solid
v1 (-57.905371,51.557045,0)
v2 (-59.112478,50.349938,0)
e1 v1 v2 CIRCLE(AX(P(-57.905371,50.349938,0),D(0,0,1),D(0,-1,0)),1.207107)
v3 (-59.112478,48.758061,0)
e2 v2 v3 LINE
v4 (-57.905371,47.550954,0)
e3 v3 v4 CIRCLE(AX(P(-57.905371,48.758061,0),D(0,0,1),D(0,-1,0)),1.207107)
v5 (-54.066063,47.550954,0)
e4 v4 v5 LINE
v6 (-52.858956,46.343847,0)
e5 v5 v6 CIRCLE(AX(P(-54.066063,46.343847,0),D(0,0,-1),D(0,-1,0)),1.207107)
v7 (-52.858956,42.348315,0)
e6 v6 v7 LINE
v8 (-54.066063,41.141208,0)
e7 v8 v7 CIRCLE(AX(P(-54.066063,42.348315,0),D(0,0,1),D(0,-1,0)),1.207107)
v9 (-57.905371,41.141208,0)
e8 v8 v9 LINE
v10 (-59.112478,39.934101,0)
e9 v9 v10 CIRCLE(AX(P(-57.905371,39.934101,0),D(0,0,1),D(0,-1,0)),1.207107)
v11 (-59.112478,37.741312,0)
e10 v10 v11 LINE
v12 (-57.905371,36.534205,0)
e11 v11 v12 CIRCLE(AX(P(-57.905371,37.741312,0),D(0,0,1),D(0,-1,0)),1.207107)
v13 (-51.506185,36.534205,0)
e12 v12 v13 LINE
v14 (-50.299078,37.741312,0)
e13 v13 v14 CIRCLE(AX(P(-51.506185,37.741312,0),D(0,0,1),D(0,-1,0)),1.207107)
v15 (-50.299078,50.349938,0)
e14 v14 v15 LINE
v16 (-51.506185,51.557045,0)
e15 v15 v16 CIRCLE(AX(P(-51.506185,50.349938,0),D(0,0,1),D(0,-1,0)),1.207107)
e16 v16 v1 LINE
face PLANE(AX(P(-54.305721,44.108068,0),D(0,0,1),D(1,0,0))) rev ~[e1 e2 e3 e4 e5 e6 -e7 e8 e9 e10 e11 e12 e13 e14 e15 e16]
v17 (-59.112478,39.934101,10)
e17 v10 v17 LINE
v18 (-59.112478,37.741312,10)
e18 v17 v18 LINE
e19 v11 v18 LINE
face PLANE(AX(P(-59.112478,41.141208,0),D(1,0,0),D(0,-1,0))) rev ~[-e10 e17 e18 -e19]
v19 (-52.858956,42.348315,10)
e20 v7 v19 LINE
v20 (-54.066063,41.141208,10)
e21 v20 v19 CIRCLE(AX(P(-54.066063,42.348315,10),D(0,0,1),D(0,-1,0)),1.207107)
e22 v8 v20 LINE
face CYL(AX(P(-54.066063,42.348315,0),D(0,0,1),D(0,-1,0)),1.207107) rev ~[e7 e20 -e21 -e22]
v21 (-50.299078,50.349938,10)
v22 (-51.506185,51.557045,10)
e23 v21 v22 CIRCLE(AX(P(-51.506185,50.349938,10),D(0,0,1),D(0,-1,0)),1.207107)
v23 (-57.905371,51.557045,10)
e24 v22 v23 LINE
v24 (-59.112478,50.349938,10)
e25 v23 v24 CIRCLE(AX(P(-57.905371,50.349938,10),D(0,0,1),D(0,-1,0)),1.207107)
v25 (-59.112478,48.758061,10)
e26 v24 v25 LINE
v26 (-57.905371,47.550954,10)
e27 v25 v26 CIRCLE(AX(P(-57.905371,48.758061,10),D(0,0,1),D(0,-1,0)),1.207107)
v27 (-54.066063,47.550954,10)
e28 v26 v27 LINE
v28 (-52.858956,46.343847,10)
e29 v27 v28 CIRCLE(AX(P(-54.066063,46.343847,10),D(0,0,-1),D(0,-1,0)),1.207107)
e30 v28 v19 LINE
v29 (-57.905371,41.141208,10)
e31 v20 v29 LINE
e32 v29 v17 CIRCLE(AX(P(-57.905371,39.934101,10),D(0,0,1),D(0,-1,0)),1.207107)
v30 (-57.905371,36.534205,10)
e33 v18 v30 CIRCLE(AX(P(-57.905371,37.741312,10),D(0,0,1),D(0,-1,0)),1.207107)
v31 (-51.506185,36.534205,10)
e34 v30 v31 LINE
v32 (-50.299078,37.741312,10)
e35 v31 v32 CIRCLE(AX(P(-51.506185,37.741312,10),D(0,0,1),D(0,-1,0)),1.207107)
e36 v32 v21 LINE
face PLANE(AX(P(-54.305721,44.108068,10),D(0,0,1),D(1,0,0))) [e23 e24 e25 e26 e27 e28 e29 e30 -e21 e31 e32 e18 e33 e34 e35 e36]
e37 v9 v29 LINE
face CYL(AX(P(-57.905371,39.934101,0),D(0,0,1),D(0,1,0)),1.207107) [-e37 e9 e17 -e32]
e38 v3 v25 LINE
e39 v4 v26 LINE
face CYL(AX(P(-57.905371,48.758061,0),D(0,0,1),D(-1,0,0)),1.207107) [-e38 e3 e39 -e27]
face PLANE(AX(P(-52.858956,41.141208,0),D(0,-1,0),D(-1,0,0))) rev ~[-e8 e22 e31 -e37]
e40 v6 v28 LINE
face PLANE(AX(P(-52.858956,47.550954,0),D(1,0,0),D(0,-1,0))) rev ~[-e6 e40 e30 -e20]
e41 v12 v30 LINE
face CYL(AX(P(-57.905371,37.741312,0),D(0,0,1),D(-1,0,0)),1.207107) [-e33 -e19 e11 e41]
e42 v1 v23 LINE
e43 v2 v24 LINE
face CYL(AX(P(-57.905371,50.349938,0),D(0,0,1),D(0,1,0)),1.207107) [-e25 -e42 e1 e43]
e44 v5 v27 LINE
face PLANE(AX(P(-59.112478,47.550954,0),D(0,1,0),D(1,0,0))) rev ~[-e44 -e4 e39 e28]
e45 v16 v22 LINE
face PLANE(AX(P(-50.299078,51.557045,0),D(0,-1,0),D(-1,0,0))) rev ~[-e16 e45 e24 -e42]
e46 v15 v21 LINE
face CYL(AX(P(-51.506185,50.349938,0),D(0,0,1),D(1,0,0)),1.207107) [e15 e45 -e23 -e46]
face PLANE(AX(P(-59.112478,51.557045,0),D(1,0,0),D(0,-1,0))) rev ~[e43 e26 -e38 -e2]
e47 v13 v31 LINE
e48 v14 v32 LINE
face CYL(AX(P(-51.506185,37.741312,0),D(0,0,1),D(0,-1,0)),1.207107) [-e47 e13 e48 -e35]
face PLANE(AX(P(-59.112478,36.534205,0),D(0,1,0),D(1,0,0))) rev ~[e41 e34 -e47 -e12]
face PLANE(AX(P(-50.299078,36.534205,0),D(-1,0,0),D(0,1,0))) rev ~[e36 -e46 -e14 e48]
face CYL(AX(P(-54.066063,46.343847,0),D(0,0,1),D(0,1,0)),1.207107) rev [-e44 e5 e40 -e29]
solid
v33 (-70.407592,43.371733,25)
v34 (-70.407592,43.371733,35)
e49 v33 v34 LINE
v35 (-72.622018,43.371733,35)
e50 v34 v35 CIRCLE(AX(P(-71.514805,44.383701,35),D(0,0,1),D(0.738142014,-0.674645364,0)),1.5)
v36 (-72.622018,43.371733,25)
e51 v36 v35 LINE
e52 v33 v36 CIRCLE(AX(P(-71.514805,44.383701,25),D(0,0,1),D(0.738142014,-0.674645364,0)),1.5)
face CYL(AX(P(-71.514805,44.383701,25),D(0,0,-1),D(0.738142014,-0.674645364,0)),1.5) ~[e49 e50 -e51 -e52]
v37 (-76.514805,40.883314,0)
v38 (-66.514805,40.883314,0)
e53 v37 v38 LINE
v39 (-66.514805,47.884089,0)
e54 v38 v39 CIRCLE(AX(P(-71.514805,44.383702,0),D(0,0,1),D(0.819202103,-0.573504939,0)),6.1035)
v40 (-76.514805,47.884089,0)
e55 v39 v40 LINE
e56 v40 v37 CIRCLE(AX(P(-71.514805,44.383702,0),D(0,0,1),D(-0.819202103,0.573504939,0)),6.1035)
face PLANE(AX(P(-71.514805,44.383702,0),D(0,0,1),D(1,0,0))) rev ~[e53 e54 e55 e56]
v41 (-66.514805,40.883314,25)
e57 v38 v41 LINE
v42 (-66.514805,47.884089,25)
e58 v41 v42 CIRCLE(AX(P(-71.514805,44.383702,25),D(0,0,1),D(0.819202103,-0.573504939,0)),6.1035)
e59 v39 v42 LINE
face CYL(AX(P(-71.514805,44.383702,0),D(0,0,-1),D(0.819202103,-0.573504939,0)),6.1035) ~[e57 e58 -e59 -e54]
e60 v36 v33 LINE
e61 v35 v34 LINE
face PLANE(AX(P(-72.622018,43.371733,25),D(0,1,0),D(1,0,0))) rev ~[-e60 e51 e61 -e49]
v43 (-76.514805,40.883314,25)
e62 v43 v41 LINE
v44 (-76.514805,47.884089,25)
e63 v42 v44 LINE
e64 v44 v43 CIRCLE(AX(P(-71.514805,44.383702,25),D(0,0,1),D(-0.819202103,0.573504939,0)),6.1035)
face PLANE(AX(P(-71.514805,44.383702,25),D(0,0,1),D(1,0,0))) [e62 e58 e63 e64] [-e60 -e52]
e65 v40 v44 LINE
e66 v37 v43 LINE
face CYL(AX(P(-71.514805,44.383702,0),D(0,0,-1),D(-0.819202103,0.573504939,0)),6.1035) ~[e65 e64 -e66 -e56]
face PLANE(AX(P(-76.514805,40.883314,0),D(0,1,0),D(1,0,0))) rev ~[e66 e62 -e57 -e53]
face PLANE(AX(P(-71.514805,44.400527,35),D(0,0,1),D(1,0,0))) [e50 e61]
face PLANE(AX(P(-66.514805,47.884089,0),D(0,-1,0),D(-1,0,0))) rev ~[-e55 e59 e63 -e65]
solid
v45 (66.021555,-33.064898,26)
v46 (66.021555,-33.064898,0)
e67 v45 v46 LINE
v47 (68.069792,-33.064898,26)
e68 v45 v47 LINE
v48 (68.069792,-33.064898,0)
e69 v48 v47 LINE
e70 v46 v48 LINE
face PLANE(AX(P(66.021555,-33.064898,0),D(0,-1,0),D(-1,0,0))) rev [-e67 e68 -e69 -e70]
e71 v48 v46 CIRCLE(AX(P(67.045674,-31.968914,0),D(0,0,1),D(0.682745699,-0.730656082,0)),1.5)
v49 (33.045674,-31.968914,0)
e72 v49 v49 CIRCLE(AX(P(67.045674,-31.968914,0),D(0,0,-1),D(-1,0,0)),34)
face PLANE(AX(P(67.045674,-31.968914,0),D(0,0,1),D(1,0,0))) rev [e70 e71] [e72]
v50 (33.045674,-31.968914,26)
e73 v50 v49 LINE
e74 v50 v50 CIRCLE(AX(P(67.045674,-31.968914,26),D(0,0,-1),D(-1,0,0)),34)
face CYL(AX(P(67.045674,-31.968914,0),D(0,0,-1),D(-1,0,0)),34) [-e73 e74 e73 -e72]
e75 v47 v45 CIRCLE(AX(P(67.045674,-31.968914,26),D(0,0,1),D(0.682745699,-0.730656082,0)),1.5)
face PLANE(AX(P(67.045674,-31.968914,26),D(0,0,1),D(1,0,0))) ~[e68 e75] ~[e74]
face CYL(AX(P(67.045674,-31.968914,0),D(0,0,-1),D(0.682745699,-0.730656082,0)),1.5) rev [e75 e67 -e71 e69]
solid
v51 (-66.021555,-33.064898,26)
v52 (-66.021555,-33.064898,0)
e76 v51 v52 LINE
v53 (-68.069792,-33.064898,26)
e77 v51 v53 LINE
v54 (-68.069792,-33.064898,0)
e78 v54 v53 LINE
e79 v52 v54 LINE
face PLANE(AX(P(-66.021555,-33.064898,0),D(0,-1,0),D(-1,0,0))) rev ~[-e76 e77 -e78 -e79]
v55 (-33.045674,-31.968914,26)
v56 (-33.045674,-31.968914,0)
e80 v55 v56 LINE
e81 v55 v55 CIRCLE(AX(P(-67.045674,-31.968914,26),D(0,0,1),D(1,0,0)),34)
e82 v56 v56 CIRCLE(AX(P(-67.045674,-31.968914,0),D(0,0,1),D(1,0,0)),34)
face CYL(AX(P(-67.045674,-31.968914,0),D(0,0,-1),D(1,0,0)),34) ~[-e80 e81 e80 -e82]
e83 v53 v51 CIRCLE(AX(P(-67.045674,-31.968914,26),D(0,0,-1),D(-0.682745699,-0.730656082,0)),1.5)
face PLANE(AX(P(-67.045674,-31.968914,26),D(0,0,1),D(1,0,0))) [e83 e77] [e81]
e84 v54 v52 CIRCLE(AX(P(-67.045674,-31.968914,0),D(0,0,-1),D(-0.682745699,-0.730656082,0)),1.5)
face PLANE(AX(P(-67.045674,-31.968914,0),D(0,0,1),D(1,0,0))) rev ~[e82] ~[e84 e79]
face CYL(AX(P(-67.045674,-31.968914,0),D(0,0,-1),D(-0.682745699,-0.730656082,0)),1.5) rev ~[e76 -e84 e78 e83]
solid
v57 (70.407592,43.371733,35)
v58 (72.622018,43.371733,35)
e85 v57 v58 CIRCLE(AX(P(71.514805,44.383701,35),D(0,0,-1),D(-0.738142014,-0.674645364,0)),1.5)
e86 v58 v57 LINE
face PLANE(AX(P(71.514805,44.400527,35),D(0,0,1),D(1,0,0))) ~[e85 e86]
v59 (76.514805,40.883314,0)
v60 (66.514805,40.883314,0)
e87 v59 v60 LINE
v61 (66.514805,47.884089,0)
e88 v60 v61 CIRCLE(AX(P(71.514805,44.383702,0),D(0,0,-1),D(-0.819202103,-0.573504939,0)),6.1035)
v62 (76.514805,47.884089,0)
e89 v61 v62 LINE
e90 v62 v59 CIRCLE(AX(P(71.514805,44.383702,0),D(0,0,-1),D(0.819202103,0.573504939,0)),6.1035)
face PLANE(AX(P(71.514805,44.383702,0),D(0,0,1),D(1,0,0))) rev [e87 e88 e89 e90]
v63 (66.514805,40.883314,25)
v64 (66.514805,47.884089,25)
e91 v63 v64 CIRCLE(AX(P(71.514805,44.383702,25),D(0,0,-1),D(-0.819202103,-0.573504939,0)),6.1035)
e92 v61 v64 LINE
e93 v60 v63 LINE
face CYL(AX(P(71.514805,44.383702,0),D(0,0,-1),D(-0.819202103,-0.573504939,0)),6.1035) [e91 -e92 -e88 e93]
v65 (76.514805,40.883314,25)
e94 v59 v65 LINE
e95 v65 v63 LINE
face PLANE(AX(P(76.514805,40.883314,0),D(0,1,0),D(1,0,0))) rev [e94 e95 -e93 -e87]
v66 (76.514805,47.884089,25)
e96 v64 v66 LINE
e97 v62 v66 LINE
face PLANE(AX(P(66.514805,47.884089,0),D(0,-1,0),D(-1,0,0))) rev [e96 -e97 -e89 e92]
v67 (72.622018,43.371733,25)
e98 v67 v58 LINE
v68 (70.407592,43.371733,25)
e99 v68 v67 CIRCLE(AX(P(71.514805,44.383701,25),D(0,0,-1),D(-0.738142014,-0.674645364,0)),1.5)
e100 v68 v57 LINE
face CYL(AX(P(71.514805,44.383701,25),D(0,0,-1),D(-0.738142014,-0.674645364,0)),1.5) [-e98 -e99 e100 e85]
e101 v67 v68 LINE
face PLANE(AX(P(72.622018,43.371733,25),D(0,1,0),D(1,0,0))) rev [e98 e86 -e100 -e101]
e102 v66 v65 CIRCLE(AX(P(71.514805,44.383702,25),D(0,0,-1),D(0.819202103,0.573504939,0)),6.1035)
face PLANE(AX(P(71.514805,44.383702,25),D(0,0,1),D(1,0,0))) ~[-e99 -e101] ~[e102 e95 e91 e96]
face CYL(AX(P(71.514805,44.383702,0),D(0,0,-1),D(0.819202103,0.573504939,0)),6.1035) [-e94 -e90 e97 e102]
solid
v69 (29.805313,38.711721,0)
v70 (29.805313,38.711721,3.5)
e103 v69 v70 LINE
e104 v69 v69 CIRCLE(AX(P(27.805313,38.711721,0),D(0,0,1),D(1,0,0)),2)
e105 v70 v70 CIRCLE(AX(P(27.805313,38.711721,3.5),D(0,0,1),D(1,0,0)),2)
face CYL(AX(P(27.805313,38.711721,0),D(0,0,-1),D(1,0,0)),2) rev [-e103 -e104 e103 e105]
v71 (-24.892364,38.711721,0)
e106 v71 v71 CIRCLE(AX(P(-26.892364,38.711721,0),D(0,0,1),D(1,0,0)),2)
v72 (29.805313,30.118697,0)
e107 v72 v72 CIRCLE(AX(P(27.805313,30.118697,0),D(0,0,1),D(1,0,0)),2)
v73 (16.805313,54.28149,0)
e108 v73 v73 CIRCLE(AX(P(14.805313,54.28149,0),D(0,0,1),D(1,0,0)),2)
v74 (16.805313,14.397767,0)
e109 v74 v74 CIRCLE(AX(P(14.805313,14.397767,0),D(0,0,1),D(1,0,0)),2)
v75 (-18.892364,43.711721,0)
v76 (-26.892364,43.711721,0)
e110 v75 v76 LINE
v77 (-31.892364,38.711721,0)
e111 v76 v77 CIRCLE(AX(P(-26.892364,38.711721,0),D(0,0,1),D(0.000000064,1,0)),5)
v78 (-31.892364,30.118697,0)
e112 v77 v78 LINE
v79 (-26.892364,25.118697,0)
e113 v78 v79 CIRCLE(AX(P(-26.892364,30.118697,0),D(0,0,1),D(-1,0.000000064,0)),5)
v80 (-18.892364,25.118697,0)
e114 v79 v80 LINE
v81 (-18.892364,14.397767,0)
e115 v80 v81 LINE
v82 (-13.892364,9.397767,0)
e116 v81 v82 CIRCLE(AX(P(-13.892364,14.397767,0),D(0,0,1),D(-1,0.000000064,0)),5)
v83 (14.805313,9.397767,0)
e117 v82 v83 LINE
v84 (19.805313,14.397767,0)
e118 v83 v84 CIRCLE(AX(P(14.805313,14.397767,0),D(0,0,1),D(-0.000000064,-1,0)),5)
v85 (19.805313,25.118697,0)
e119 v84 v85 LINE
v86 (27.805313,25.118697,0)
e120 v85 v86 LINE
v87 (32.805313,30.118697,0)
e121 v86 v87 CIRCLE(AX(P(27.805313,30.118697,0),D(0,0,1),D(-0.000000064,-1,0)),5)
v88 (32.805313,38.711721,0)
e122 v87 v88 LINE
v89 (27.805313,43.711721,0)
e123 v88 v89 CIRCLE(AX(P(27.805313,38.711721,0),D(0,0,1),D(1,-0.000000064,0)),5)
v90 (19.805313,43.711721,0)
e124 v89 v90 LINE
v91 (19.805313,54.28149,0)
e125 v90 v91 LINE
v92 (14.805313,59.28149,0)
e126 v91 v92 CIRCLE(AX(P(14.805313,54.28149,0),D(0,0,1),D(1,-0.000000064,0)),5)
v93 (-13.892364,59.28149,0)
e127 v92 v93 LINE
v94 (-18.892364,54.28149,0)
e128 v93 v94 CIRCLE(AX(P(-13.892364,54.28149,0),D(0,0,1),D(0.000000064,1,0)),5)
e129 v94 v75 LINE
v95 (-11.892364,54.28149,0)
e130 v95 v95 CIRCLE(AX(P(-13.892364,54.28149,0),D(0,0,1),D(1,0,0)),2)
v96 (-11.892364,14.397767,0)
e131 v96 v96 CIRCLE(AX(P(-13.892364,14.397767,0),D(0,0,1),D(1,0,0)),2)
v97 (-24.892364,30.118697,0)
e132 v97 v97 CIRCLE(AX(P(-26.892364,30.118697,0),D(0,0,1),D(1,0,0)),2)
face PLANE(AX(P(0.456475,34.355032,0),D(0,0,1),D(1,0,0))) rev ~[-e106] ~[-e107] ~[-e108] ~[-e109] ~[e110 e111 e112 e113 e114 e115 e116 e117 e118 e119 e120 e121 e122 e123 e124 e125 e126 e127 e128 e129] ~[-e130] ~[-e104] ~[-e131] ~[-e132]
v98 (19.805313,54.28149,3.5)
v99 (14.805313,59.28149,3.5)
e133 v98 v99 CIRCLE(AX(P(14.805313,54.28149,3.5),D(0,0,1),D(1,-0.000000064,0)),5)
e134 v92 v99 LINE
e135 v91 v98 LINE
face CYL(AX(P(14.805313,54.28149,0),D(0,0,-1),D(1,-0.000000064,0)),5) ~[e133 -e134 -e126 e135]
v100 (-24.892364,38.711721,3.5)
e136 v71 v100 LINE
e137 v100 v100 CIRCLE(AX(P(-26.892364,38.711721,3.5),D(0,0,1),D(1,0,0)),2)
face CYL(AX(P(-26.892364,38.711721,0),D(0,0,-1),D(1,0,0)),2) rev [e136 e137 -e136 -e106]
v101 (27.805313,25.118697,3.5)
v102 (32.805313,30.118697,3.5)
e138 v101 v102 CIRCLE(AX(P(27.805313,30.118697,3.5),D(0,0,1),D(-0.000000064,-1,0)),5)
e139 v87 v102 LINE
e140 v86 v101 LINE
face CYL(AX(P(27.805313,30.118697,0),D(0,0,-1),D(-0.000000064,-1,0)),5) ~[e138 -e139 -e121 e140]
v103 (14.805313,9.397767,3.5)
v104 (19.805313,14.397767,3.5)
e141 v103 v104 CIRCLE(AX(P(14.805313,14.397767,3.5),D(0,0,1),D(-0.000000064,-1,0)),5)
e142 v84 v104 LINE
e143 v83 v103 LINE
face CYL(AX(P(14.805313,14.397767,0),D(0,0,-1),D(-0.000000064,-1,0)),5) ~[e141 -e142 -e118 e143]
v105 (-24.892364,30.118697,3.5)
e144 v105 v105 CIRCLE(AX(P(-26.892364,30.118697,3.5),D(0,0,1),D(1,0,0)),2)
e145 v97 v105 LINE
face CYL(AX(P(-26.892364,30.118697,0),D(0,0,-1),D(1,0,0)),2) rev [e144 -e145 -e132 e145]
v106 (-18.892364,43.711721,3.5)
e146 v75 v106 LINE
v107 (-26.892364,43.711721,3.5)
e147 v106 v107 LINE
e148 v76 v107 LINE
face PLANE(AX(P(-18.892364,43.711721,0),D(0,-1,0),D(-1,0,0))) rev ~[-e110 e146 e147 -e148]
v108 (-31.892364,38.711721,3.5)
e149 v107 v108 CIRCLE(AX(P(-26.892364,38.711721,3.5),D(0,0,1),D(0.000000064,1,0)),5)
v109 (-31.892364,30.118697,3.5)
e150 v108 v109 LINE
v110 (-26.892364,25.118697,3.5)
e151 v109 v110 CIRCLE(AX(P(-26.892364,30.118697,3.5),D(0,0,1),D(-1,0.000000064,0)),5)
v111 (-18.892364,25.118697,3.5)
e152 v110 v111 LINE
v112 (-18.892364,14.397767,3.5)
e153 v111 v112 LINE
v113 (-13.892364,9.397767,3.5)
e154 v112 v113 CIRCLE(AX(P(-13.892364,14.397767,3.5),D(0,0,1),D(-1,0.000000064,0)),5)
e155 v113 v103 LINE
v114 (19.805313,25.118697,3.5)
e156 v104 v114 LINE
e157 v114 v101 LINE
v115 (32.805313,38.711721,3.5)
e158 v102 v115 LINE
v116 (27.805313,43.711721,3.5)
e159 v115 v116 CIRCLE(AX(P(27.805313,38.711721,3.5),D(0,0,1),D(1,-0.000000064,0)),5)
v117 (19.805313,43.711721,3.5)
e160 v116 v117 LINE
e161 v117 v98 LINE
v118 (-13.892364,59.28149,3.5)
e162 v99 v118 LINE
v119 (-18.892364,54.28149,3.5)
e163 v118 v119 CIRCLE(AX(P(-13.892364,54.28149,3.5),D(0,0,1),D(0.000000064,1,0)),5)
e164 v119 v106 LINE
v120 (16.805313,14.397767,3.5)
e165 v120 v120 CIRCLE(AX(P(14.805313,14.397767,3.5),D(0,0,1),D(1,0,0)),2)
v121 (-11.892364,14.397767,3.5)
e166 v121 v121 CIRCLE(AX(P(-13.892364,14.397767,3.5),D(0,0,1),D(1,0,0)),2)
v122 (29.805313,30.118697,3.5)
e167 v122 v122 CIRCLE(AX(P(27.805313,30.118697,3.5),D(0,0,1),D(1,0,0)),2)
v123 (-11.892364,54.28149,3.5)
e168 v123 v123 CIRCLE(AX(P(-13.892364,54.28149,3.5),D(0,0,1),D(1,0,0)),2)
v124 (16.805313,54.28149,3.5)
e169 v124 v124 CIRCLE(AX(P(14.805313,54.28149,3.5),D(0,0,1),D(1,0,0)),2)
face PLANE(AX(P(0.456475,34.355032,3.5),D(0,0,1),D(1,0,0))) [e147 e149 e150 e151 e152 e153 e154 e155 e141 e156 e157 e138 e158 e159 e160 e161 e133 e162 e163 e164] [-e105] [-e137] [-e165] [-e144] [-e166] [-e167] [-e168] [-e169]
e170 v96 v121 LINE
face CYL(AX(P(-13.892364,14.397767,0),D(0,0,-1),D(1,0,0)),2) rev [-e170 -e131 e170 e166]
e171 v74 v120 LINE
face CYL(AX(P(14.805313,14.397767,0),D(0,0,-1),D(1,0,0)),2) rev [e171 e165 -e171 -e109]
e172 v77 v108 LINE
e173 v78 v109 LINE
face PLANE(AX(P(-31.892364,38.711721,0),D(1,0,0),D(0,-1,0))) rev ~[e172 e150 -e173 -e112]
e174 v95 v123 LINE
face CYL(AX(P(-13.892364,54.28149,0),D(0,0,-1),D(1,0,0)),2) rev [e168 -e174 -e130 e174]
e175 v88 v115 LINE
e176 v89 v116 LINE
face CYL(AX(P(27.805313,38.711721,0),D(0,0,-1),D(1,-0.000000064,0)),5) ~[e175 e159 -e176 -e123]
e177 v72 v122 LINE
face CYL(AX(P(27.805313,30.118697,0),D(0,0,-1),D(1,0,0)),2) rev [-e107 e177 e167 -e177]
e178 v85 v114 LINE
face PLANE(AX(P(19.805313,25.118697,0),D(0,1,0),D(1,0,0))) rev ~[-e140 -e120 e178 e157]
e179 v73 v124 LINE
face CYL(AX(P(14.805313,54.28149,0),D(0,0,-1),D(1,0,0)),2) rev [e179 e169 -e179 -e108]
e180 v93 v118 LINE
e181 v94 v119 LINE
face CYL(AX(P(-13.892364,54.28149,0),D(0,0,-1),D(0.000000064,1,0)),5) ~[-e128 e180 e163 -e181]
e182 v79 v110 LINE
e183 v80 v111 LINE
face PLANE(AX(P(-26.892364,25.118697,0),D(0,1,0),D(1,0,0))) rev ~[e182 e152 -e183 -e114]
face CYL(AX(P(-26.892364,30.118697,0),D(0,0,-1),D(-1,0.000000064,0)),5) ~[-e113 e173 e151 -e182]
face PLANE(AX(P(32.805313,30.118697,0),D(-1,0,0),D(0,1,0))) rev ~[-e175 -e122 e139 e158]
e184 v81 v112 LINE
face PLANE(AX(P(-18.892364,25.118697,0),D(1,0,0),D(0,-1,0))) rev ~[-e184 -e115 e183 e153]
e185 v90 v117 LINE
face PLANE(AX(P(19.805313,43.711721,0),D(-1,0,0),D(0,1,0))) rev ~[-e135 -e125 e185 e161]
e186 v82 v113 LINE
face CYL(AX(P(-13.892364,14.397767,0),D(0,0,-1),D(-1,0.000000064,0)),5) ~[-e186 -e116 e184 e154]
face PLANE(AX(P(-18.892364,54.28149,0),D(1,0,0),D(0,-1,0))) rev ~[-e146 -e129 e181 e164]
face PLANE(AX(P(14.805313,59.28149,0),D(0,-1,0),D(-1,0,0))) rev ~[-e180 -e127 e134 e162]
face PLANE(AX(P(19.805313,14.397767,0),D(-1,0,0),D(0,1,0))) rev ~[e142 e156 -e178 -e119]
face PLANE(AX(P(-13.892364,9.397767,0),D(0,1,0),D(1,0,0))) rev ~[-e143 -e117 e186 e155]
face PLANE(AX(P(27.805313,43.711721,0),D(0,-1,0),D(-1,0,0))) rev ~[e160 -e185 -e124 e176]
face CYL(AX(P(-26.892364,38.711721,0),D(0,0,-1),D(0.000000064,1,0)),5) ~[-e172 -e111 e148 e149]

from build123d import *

# Parameters (mm, degrees)
F0_R      = 34
F1_DEPTH  = 26
F2_DEPTH  = 25
F4_DEPTH  = 25
F6_DEPTH  = 10
F9_DEPTH  = 10
F10_R     = 1.207107
F11_R     = 2
F12_DEPTH = 3.5


with BuildPart() as f1:
    # F0 (on Top) → F1 (new body)
    with BuildSketch(Plane.XY):
        with Locations((-67.045674, -31.968914)):
            Circle(F0_R)
        with BuildLine():
            ThreePointArc((-68.069792, -33.064898), (-67.045674, -30.468914), (-66.021555, -33.064898))
            Line((-66.021555, -33.064898), (-68.069792, -33.064898))
        make_face(mode=Mode.SUBTRACT)
    extrude(amount=F1_DEPTH)

    # F0 (on Top) → F2 (join)
    with BuildSketch(Plane.XY):
        with Locations((-67.045674, -31.968914)):
            Circle(F0_R)
        with BuildLine():
            ThreePointArc((-68.069792, -33.064898), (-67.045674, -30.468914), (-66.021555, -33.064898))
            Line((-66.021555, -33.064898), (-68.069792, -33.064898))
        make_face(mode=Mode.SUBTRACT)
    extrude(amount=F2_DEPTH)


with BuildPart() as f4:
    # F3 (on Top) → F4 (new body)
    with BuildSketch(Plane.XY):
        with BuildLine():
            Line((-66.514805, 47.884089), (-76.514805, 47.884089))
            ThreePointArc((-76.514805, 47.884089), (-77.618305, 44.383701), (-76.514805, 40.883314))
            Line((-76.514805, 40.883314), (-66.514805, 40.883314))
            ThreePointArc((-66.514805, 40.883314), (-65.411305, 44.383701), (-66.514805, 47.884089))
        make_face()
    extrude(amount=F4_DEPTH)

    # F5 (on face) → F6 (join)
    with BuildSketch(Plane.XY.offset(25)):
        with BuildLine():
            Line((-72.622018, 43.371733), (-70.407592, 43.371733))
            ThreePointArc((-70.407592, 43.371733), (-71.514805, 45.883701), (-72.622018, 43.371733))
        make_face()
    extrude(amount=F6_DEPTH)


with BuildPart() as f7_1:
    # F7: instance of F4
    add(f4.part.mirror(Plane.YZ))


with BuildPart() as f7_2:
    # F7: instance of F1
    add(f1.part.mirror(Plane.YZ))


with BuildPart() as f9:
    # F8 (on Top) → F9 (new body)
    with BuildSketch(Plane.XY):
        Polygon((-52.858956, 41.141208), (-59.112478, 41.141208), (-59.112478, 36.534205), (-50.299078, 36.534205), (-50.299078, 51.557045), (-59.112478, 51.557045), (-59.112478, 47.550954), (-52.858956, 47.550954), align=None)
    extrude(amount=F9_DEPTH)

    # F10
    f10_edges = [f9.edges().sort_by_distance(p)[0] for p in [
        (-59.112478, 47.550954, 5),
        (-59.112478, 41.141208, 5),
        (-52.858956, 47.550954, 5),
        (-52.858956, 41.141208, 5),
        (-50.299078, 51.557045, 5),
        (-59.112478, 51.557045, 5),
        (-50.299078, 36.534205, 5),
        (-59.112478, 36.534205, 5),
    ]]
    fillet(f10_edges, radius=F10_R)


with BuildPart() as f12:
    # F11 (on Top) → F12 (new body)
    with BuildSketch(Plane.XY):
        with BuildLine():
            ThreePointArc((-18.892364, 14.397767), (-17.427898, 10.862233), (-13.892364, 9.397767))
            Line((-13.892364, 9.397767), (14.805313, 9.397767))
            ThreePointArc((14.805313, 9.397767), (18.340847, 10.862233), (19.805313, 14.397767))
            Line((19.805313, 14.397767), (19.805313, 25.118697))
            Line((19.805313, 25.118697), (27.805313, 25.118697))
            ThreePointArc((27.805313, 25.118697), (31.340847, 26.583163), (32.805313, 30.118697))
            Line((32.805313, 30.118697), (32.805313, 38.711721))
            ThreePointArc((32.805313, 38.711721), (31.340847, 42.247255), (27.805313, 43.711721))
            Line((27.805313, 43.711721), (19.805313, 43.711721))
            Line((19.805313, 43.711721), (19.805313, 54.28149))
            ThreePointArc((19.805313, 54.28149), (18.340847, 57.817024), (14.805313, 59.28149))
            Line((14.805313, 59.28149), (-13.892364, 59.28149))
            ThreePointArc((-13.892364, 59.28149), (-17.427898, 57.817024), (-18.892364, 54.28149))
            Line((-18.892364, 54.28149), (-18.892364, 43.711721))
            Line((-18.892364, 43.711721), (-26.892364, 43.711721))
            ThreePointArc((-26.892364, 43.711721), (-30.427898, 42.247255), (-31.892364, 38.711721))
            Line((-31.892364, 38.711721), (-31.892364, 30.118697))
            ThreePointArc((-31.892364, 30.118697), (-30.427898, 26.583163), (-26.892364, 25.118697))
            Line((-26.892364, 25.118697), (-18.892364, 25.118697))
            Line((-18.892364, 25.118697), (-18.892364, 14.397767))
        make_face()
        with Locations((-13.892364, 14.397767)):
            Circle(F11_R, mode=Mode.SUBTRACT)
        with Locations((-26.892364, 30.118697)):
            Circle(F11_R, mode=Mode.SUBTRACT)
        with Locations((14.805313, 14.397767)):
            Circle(F11_R, mode=Mode.SUBTRACT)
        with Locations((27.805313, 30.118697)):
            Circle(F11_R, mode=Mode.SUBTRACT)
        with Locations((-26.892364, 38.711721)):
            Circle(F11_R, mode=Mode.SUBTRACT)
        with Locations((-13.892364, 54.28149)):
            Circle(F11_R, mode=Mode.SUBTRACT)
        with Locations((27.805313, 38.711721)):
            Circle(F11_R, mode=Mode.SUBTRACT)
        with Locations((14.805313, 54.28149)):
            Circle(F11_R, mode=Mode.SUBTRACT)
    extrude(amount=F12_DEPTH)


solid = Compound([f1.part, f4.part, f7_1.part, f7_2.part, f9.part, f12.part])
